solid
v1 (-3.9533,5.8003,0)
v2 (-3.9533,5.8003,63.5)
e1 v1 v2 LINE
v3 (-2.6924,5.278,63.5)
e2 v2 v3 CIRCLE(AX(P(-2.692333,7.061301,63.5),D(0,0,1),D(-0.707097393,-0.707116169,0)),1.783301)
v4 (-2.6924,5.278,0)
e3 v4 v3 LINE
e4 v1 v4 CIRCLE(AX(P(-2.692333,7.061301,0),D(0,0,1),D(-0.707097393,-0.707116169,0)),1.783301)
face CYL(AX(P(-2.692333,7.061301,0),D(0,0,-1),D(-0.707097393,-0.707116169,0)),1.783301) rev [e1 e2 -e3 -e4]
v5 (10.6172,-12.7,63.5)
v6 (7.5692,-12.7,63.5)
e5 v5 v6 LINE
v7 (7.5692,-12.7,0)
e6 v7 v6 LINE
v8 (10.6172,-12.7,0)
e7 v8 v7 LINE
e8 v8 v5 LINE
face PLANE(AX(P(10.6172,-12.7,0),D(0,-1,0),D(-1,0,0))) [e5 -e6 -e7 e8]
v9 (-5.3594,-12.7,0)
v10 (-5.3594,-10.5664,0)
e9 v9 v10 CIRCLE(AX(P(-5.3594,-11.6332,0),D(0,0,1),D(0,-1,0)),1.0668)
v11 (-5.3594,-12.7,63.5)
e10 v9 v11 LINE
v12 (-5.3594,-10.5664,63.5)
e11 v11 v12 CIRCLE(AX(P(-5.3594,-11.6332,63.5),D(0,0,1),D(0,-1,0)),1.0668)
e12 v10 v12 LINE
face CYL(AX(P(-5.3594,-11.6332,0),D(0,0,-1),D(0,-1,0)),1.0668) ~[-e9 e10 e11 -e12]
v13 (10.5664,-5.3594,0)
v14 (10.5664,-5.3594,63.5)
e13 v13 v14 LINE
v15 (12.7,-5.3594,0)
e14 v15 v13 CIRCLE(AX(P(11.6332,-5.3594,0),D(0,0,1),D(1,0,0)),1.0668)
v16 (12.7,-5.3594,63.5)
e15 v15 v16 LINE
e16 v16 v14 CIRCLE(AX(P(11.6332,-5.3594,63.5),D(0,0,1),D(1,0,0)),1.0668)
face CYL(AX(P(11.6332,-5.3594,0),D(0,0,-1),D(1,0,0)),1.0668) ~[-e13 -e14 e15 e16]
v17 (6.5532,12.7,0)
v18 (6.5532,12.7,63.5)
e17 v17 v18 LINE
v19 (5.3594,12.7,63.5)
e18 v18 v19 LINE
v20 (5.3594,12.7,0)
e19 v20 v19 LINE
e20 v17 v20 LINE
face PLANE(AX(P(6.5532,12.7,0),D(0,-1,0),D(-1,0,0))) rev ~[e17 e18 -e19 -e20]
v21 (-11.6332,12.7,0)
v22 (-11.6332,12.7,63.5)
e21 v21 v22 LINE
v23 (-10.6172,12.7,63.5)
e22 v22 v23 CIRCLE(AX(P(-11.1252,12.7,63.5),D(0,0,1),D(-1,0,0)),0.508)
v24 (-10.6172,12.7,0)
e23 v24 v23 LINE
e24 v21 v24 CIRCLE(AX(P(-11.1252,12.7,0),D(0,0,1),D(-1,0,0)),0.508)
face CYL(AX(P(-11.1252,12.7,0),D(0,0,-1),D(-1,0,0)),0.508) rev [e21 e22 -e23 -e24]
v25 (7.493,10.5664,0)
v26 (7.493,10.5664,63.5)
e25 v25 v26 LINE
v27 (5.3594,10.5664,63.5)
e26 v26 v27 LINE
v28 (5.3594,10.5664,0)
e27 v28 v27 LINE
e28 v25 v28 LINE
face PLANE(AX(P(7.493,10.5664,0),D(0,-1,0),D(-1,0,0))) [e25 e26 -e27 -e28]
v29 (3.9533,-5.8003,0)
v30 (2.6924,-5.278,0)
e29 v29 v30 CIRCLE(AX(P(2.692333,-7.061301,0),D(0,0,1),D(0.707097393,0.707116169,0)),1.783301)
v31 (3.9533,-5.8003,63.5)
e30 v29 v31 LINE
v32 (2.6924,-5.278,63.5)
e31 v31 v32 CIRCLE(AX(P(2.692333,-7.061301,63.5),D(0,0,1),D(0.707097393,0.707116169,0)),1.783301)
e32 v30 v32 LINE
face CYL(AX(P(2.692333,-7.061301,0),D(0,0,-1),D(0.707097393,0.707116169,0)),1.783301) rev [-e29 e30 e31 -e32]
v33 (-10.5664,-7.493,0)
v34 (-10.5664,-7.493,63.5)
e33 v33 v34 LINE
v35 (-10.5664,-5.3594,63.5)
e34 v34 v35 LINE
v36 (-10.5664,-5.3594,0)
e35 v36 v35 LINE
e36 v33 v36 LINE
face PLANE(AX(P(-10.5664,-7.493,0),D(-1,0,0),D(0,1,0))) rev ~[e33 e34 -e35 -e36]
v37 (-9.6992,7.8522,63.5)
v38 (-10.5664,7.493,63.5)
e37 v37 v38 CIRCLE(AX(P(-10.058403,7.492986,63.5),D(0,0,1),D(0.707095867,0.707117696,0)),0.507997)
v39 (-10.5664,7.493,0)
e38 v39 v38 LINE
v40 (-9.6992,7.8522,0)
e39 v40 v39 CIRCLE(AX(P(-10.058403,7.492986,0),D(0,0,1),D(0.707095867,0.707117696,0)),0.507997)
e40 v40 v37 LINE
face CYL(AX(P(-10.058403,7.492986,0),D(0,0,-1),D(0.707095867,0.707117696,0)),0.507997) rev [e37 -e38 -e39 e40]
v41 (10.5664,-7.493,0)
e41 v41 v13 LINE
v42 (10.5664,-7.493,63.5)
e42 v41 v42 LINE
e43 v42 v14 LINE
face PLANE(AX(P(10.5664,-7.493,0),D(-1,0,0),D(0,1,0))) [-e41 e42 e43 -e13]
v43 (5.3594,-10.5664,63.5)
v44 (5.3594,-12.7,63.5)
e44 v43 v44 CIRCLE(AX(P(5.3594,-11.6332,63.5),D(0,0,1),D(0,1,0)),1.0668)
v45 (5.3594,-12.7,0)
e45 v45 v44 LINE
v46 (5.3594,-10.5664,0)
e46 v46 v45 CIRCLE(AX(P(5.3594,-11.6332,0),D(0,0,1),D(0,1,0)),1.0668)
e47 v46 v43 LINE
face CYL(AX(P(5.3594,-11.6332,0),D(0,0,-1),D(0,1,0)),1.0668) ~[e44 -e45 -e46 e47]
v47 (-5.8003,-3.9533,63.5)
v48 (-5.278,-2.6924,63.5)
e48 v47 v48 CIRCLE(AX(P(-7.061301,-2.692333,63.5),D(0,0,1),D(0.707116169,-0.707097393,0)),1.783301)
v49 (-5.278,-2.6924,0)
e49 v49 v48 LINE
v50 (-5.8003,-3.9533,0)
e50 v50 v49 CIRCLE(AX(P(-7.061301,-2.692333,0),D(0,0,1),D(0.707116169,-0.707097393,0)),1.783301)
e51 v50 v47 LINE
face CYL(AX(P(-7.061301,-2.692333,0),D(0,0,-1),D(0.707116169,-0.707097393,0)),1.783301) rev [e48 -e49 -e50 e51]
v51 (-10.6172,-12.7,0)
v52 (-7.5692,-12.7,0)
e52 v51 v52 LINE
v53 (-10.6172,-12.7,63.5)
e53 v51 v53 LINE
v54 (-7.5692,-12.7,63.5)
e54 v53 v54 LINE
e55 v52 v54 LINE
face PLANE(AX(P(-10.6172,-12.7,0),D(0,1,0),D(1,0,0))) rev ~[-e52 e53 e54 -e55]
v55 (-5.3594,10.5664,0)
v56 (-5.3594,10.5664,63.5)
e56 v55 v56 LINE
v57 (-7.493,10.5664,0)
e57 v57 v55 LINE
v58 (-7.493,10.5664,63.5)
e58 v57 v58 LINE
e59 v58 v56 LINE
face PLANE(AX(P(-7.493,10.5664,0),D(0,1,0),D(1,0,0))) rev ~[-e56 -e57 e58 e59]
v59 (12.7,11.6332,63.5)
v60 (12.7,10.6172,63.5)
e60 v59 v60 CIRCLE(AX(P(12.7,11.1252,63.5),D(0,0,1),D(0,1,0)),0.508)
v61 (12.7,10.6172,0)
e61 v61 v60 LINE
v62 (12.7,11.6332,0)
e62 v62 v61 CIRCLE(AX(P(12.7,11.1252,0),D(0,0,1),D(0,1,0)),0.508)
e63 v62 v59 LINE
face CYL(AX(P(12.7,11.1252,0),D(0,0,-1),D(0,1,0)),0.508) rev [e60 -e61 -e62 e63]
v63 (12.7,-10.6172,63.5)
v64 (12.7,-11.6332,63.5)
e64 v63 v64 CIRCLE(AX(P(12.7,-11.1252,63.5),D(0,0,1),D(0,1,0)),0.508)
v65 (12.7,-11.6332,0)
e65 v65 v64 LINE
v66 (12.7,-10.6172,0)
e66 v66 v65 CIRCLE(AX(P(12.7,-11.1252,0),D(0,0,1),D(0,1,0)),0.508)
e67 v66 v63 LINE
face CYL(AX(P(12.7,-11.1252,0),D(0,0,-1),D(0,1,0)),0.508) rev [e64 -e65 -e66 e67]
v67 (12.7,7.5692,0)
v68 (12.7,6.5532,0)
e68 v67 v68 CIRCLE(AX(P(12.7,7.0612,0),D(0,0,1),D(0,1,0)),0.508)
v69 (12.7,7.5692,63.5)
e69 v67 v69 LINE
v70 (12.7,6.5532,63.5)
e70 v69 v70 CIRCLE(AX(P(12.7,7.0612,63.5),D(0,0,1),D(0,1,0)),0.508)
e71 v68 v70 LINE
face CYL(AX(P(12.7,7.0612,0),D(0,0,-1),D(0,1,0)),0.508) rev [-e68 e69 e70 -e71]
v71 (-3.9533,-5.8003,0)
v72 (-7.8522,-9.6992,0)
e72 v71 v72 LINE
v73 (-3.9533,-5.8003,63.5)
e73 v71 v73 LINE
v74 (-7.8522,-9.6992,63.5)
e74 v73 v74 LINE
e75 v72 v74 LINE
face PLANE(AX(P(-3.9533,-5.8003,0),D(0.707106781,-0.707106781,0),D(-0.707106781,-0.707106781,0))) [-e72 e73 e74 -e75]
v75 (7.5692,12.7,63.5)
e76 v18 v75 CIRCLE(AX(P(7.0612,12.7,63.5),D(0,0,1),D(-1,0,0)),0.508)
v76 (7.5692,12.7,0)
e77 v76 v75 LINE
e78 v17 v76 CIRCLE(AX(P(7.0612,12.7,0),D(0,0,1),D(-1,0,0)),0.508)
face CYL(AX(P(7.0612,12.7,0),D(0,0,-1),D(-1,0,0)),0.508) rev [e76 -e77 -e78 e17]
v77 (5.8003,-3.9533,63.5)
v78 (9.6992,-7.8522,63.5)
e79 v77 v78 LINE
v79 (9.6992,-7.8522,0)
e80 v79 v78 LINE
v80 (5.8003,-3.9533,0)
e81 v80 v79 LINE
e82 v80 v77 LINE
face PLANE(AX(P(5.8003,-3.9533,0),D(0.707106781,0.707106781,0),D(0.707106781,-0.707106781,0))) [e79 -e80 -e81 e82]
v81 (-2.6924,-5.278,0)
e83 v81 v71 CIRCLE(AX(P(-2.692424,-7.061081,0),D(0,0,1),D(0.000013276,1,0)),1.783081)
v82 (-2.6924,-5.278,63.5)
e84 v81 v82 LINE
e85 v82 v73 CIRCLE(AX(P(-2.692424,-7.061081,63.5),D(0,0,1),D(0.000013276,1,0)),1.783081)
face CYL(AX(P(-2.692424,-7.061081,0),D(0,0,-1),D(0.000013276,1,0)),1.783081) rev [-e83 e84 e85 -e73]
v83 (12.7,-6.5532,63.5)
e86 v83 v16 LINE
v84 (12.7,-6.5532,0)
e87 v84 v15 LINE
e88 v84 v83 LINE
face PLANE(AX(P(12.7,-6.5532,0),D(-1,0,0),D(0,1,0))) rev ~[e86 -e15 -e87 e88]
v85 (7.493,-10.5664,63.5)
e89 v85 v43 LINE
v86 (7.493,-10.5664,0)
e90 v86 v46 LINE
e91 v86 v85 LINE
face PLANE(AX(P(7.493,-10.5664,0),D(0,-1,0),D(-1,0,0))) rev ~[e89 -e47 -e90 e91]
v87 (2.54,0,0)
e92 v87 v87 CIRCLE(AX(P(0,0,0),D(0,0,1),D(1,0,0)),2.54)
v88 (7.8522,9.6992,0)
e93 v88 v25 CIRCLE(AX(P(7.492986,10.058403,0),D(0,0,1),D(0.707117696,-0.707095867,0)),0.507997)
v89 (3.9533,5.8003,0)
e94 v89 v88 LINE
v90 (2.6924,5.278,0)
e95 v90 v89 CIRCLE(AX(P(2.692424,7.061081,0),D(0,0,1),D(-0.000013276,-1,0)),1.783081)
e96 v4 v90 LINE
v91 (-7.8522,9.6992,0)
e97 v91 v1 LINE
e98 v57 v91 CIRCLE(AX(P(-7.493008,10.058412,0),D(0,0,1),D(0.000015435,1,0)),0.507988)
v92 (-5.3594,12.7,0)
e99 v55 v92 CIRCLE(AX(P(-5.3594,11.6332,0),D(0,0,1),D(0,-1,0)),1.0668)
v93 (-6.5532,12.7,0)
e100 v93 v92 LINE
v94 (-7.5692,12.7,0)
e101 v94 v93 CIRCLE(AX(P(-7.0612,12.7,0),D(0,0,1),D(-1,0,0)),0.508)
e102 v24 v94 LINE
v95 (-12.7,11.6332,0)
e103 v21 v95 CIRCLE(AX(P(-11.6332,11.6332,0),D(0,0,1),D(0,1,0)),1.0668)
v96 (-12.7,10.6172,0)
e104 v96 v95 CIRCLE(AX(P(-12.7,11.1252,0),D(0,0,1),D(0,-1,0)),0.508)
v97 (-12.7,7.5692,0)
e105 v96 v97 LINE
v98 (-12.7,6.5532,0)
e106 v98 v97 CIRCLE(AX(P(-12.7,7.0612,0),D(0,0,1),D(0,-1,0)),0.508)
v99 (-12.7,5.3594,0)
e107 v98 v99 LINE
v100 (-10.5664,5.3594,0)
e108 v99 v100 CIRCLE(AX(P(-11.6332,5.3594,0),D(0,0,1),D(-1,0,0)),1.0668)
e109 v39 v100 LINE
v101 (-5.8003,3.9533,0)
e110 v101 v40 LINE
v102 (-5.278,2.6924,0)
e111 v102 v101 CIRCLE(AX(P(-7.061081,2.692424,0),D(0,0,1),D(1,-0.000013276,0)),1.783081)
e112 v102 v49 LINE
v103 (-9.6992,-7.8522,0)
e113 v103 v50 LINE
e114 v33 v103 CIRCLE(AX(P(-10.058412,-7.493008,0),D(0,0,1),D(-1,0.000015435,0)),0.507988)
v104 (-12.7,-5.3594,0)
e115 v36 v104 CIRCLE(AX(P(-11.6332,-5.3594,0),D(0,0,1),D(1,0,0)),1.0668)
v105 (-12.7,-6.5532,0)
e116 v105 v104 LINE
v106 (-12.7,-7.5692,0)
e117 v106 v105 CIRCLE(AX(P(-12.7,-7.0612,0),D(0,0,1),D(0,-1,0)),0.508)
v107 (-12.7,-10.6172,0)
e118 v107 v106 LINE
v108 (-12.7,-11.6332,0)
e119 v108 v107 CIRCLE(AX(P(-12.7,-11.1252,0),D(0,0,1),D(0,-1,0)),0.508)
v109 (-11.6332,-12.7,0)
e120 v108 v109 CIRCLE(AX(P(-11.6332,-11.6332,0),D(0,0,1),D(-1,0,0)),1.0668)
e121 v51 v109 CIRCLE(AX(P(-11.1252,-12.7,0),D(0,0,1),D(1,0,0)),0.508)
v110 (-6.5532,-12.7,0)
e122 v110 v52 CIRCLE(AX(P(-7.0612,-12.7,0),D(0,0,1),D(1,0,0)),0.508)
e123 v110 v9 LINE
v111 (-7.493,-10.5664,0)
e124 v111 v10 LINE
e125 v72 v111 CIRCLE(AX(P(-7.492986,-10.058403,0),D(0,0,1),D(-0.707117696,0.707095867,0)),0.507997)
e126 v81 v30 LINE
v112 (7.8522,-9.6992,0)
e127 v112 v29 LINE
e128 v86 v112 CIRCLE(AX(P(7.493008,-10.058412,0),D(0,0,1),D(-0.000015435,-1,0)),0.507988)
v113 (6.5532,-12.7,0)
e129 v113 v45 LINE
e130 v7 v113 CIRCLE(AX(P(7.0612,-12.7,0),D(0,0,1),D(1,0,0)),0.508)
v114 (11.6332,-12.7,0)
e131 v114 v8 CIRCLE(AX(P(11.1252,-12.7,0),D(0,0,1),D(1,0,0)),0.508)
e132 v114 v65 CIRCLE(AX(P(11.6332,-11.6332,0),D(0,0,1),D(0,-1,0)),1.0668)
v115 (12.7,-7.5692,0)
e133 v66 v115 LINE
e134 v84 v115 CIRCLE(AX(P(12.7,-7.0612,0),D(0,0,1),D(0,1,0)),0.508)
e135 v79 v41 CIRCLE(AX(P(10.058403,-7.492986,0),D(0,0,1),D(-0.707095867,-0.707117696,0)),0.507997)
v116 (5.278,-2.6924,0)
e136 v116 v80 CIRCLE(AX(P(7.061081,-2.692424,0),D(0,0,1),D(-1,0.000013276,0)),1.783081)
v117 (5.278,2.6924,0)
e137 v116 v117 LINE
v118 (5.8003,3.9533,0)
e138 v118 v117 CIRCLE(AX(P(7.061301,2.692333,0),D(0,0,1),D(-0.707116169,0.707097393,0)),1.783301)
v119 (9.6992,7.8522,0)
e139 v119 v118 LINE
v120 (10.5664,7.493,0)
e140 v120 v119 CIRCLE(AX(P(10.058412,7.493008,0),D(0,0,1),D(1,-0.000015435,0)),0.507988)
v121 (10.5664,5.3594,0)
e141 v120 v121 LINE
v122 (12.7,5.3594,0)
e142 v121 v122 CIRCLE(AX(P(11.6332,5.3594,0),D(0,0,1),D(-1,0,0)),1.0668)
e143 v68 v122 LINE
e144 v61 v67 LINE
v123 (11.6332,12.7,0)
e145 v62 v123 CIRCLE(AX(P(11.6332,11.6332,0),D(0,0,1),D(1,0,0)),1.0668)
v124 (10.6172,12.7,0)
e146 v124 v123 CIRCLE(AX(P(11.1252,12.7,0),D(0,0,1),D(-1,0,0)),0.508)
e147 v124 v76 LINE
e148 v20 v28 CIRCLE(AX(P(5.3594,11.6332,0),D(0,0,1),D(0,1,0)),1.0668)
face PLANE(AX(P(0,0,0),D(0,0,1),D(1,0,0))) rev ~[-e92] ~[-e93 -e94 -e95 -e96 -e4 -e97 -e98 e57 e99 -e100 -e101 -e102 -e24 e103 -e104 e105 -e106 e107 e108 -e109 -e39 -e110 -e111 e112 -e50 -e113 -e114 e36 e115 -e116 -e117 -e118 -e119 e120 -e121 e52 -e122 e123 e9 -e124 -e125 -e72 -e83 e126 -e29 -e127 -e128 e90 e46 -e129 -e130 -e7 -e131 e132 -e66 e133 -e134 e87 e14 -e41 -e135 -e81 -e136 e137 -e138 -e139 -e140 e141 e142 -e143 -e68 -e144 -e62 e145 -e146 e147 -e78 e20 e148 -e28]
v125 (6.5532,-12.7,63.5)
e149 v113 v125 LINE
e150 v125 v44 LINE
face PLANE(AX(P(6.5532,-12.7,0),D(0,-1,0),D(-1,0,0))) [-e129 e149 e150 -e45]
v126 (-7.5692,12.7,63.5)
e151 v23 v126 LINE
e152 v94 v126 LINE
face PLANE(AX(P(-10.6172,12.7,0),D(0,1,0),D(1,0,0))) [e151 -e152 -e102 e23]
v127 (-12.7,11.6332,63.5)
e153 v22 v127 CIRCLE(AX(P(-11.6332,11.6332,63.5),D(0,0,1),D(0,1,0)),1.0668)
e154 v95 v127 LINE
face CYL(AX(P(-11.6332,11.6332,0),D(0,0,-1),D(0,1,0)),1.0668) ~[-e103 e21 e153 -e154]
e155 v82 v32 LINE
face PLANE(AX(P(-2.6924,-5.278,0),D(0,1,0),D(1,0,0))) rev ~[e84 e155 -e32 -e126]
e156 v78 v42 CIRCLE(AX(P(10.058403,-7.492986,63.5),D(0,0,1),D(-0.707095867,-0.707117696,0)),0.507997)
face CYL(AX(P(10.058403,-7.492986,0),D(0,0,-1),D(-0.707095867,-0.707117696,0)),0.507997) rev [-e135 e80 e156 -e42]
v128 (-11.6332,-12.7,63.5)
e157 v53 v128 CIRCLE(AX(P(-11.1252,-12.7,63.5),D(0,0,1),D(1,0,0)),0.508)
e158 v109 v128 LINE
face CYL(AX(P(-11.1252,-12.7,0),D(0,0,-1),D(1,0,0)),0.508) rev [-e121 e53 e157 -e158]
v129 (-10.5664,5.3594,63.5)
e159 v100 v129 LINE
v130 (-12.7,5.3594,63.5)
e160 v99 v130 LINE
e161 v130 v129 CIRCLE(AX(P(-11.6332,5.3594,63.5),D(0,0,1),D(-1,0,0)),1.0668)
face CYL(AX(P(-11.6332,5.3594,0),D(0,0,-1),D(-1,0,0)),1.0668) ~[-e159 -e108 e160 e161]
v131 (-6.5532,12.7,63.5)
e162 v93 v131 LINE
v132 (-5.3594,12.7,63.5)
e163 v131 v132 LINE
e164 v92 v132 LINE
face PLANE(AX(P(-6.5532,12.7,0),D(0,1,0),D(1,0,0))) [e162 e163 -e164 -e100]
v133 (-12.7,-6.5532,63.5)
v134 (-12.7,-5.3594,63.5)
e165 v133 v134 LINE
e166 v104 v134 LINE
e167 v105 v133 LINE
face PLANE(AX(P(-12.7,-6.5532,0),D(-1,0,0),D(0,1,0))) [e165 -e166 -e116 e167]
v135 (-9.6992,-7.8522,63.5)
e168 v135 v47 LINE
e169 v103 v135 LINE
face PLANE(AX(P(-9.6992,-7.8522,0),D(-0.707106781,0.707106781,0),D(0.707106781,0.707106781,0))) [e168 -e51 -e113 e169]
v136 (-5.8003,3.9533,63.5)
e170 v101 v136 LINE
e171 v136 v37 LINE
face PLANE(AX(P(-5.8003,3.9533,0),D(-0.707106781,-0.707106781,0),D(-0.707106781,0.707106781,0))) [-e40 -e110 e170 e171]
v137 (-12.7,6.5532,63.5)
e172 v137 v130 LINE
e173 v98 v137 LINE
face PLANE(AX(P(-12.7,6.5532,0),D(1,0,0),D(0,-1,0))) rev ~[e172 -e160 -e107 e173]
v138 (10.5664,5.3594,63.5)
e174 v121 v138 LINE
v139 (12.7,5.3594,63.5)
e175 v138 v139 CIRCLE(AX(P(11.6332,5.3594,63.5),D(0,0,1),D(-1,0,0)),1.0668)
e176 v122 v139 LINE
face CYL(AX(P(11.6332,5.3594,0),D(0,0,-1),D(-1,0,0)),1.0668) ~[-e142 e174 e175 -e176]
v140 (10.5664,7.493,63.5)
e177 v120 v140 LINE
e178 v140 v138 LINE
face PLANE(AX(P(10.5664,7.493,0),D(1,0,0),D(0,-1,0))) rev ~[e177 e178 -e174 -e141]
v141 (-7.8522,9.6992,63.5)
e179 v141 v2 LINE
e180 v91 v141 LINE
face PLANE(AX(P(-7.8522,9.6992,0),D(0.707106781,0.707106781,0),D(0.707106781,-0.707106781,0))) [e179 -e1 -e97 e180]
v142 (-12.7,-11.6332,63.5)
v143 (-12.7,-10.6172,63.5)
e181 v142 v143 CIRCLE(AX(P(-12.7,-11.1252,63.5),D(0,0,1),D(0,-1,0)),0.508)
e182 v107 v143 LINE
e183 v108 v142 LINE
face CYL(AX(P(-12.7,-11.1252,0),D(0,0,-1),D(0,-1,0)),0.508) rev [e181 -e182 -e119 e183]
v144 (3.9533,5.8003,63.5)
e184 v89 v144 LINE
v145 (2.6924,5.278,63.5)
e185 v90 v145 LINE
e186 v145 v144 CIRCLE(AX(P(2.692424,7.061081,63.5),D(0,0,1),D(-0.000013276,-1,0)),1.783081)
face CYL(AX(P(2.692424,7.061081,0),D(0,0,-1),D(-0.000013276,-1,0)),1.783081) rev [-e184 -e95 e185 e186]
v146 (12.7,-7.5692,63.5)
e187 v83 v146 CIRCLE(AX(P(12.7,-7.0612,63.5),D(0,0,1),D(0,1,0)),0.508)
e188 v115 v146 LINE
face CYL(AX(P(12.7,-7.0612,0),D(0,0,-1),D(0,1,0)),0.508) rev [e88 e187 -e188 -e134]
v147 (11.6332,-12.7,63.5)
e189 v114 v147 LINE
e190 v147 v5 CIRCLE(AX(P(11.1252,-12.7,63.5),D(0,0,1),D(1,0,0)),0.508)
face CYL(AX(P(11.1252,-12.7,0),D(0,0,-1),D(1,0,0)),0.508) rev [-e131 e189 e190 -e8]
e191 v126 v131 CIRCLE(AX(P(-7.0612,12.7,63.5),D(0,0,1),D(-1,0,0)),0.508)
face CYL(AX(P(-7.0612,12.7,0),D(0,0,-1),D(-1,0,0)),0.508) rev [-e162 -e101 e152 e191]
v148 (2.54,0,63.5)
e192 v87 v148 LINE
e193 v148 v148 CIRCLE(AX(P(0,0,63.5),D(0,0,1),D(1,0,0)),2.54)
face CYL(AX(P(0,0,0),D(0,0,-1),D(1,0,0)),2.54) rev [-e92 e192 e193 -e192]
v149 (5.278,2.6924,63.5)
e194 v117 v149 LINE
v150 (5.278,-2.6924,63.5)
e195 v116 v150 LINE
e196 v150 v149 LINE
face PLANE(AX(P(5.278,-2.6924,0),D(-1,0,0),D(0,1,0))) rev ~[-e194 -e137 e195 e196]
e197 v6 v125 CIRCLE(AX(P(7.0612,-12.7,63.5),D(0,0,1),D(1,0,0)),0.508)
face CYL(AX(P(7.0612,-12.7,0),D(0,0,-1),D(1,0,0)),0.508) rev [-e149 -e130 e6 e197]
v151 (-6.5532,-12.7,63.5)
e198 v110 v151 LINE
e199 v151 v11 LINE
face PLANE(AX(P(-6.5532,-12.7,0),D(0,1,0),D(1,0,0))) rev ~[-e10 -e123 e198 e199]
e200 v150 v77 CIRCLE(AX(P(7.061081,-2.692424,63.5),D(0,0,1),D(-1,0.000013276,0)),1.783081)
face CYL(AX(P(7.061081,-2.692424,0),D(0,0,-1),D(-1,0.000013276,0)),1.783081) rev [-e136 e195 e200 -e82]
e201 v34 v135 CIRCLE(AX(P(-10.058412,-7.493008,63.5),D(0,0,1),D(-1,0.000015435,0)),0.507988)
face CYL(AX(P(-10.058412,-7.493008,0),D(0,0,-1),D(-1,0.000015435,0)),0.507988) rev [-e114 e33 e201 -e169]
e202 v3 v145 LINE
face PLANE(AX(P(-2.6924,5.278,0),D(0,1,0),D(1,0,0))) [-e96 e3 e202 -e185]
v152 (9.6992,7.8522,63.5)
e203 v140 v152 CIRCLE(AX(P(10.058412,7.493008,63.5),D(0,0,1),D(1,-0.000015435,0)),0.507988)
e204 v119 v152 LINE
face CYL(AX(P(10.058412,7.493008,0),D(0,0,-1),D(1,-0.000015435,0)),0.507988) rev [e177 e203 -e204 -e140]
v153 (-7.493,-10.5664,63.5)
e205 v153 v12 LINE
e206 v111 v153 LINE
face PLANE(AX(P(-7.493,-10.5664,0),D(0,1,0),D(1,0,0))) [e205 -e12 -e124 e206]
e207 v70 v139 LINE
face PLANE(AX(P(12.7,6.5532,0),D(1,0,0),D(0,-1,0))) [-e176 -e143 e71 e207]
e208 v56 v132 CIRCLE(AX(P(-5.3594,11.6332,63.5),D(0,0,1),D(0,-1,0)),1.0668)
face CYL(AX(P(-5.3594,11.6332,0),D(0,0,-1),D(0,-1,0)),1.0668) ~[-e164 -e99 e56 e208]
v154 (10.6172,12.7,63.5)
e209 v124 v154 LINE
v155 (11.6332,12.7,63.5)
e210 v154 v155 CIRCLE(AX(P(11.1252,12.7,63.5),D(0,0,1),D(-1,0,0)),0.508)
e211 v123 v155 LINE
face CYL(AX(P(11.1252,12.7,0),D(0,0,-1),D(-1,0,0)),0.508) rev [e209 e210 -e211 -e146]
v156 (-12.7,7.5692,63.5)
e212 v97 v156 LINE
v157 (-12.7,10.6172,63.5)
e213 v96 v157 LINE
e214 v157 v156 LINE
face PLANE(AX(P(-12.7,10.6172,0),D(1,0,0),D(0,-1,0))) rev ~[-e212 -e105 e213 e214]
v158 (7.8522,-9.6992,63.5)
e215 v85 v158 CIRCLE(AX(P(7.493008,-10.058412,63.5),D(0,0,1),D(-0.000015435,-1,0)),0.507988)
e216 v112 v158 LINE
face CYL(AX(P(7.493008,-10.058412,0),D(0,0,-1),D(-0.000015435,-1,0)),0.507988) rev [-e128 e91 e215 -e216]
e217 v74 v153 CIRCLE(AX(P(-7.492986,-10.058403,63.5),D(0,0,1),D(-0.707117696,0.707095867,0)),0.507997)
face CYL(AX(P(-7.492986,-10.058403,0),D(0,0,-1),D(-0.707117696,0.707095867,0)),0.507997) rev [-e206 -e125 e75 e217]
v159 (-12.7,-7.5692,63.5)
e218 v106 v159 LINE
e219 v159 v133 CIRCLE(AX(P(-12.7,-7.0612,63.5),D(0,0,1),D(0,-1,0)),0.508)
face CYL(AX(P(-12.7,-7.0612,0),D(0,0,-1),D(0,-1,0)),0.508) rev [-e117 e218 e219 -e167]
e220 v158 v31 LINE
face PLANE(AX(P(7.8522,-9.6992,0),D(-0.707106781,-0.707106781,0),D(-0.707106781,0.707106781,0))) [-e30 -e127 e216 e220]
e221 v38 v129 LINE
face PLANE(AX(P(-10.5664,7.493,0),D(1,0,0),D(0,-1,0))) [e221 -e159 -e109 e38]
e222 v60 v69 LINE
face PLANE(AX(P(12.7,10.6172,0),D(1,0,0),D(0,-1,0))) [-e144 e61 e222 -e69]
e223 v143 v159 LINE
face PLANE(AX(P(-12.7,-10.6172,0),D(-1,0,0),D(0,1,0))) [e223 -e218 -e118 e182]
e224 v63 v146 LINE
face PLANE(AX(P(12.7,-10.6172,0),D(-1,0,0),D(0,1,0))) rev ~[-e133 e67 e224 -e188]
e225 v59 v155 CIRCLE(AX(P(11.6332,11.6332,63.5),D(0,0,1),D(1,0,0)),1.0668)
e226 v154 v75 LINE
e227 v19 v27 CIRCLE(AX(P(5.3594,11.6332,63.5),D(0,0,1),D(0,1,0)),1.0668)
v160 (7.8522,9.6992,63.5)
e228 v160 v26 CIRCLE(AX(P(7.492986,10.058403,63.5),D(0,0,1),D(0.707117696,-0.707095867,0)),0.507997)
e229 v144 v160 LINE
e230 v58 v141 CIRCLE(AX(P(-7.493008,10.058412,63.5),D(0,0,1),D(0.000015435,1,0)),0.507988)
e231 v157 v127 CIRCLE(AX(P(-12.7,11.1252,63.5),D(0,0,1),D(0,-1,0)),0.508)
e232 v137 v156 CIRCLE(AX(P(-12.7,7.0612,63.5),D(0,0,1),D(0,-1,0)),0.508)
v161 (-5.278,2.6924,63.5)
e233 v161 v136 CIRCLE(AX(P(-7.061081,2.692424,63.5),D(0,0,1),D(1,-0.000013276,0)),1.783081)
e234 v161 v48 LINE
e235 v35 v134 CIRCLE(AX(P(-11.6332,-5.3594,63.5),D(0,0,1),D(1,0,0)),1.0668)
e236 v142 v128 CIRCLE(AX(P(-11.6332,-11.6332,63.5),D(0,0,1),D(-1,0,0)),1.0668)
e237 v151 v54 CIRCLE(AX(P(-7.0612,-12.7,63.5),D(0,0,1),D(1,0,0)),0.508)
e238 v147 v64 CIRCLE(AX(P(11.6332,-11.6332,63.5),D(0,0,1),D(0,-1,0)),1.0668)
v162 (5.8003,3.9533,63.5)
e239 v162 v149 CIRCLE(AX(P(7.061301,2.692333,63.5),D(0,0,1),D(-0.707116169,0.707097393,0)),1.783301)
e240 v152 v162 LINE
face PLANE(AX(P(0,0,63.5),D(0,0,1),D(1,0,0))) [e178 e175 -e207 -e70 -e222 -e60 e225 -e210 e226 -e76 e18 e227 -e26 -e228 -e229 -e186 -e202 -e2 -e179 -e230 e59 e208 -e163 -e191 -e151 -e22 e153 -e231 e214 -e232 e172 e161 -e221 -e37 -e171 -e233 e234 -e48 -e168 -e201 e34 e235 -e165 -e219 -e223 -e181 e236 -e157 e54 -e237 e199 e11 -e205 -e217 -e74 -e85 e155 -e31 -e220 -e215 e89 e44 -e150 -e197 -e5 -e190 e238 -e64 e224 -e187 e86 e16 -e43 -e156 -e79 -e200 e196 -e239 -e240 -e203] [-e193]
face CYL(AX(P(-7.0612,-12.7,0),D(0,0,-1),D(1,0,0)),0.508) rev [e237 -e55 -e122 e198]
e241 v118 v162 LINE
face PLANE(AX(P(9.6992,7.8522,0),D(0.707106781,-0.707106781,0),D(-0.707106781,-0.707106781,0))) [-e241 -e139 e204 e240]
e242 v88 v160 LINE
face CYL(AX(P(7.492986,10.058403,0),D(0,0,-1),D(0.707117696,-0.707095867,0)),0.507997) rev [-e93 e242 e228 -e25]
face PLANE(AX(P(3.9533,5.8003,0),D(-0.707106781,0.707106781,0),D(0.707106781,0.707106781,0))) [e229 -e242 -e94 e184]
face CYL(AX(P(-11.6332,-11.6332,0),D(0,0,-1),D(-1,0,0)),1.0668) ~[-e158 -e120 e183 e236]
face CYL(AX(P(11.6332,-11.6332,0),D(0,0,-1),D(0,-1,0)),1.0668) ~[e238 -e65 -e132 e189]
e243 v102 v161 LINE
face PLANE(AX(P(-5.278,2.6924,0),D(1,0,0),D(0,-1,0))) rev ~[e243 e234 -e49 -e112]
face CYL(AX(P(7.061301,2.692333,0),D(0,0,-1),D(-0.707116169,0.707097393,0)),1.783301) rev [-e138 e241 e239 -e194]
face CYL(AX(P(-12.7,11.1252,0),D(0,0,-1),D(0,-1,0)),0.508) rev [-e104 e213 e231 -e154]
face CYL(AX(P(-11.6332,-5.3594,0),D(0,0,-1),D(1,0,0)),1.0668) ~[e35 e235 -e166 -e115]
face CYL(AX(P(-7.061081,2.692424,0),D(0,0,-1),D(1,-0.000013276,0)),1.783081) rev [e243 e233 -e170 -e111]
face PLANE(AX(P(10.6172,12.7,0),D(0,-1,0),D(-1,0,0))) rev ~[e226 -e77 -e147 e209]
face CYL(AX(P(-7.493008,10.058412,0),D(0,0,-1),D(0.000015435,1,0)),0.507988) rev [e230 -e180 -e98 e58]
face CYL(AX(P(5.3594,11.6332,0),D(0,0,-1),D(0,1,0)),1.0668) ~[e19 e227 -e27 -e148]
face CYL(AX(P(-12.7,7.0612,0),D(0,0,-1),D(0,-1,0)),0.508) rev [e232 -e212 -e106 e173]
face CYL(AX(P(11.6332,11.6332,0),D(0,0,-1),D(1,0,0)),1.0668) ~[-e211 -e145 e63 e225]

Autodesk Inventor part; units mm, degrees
ref_plane "YZ Plane" through (0, 0, 0) normal (1, 0, 0) x (0, 1, 0)
ref_plane "Start Plane" through (0, 0, 0) normal (0, 0, 1) x (1, 0, 0)
ref_plane "End Plane" through (0, 0, 63.5) normal (0, 0, 1) x (1, 0, 0)
sketch "Sketch" plane through (0, 0, 0) normal (0, 0, 1) x (1, 0, 0)
  arc A0 (-11.6332, 12.7) -> (-12.7, 11.6332) centre (-11.6332, 11.6332) ccw
  arc A1 (-5.3594, 10.5664) -> (-5.3594, 12.7) centre (-5.3594, 11.6332) ccw
  arc A2 (-12.7, 5.3594) -> (-10.5664, 5.3594) centre (-11.6332, 5.3594) ccw
  line L0 (-10.5664, 7.493) -> (-10.5664, 5.3594)
  line L1 (-7.493, 10.5664) -> (-5.3594, 10.5664)
  arc A3 (-9.6992, 7.8522) -> (-10.5664, 7.493) centre (-10.0584, 7.493) ccw
  arc A4 (-7.493, 10.5664) -> (-7.8522, 9.6992) centre (-7.493, 10.0584) ccw
  line L2 (-11.6332, 11.6332) -> (0, 0) construction
  line L3 (-5.8003, 3.9533) -> (-9.6992, 7.8522)
  line L4 (-7.8522, 9.6992) -> (-3.9533, 5.8003)
  arc A5 (-3.9533, 5.8003) -> (-2.6924, 5.278) centre (-2.6924, 7.0612) ccw
  arc A6 (-5.278, 2.6924) -> (-5.8003, 3.9533) centre (-7.0612, 2.6924) ccw
  arc A7 (0, 2.54) -> (-2.54, 0) centre (0, 0) ccw construction
  line L5 (0, 0) -> (-12.7, 0) construction
  line L6 (0, 12.7) -> (0, 0) construction
  arc A8 (-11.6332, 12.7) -> (-10.6172, 12.7) centre (-11.1252, 12.7) ccw
  arc A9 (-7.5692, 12.7) -> (-6.5532, 12.7) centre (-7.0612, 12.7) ccw
  arc A10 (-12.7, 10.6172) -> (-12.7, 11.6332) centre (-12.7, 11.1252) ccw
  arc A11 (-12.7, 6.5532) -> (-12.7, 7.5692) centre (-12.7, 7.0612) ccw
  line L7 (-12.7, 10.6172) -> (-12.7, 7.5692)
  line L8 (-12.7, 6.5532) -> (-12.7, 5.3594)
  line L9 (-10.6172, 12.7) -> (-7.5692, 12.7)
  line L10 (-6.5532, 12.7) -> (-5.3594, 12.7)
  circle A12 centre (0, 0) radius 2.54
  arc A13 (-12.7, -11.6332) -> (-11.6332, -12.7) centre (-11.6332, -11.6332) ccw
  line L11 (-12.7, -10.6172) -> (-12.7, -7.5692)
  arc A14 (-10.5664, -7.493) -> (-9.6992, -7.8522) centre (-10.0584, -7.493) ccw
  line L12 (-9.6992, -7.8522) -> (-5.8003, -3.9533)
  line L13 (-11.6332, -11.6332) -> (0, 0) construction
  line L14 (-3.9533, -5.8003) -> (-7.8522, -9.6992)
  arc A15 (-7.8522, -9.6992) -> (-7.493, -10.5664) centre (-7.493, -10.0584) ccw
  line L15 (-10.6172, -12.7) -> (-7.5692, -12.7)
  line L16 (-7.493, -10.5664) -> (-5.3594, -10.5664)
  arc A16 (-6.5532, -12.7) -> (-7.5692, -12.7) centre (-7.0612, -12.7) ccw
  line L17 (-6.5532, -12.7) -> (-5.3594, -12.7)
  arc A17 (-5.3594, -12.7) -> (-5.3594, -10.5664) centre (-5.3594, -11.6332) ccw
  arc A18 (-10.6172, -12.7) -> (-11.6332, -12.7) centre (-11.1252, -12.7) ccw
  arc A19 (-12.7, -11.6332) -> (-12.7, -10.6172) centre (-12.7, -11.1252) ccw
  arc A20 (-2.6924, -5.278) -> (-3.9533, -5.8003) centre (-2.6924, -7.0612) ccw
  arc A21 (-5.8003, -3.9533) -> (-5.278, -2.6924) centre (-7.0612, -2.6924) ccw
  line L18 (-10.5664, -7.493) -> (-10.5664, -5.3594)
  line L19 (-12.7, -6.5532) -> (-12.7, -5.3594)
  arc A22 (-10.5664, -5.3594) -> (-12.7, -5.3594) centre (-11.6332, -5.3594) ccw
  arc A23 (-12.7, -7.5692) -> (-12.7, -6.5532) centre (-12.7, -7.0612) ccw
  arc A24 (11.6332, -12.7) -> (12.7, -11.6332) centre (11.6332, -11.6332) ccw
  line L20 (10.6172, -12.7) -> (7.5692, -12.7)
  arc A25 (7.493, -10.5664) -> (7.8522, -9.6992) centre (7.493, -10.0584) ccw
  line L21 (7.8522, -9.6992) -> (3.9533, -5.8003)
  line L22 (11.6332, -11.6332) -> (0, 0) construction
  line L23 (5.8003, -3.9533) -> (9.6992, -7.8522)
  arc A26 (9.6992, -7.8522) -> (10.5664, -7.493) centre (10.0584, -7.493) ccw
  line L24 (12.7, -10.6172) -> (12.7, -7.5692)
  line L25 (10.5664, -7.493) -> (10.5664, -5.3594)
  arc A27 (12.7, -6.5532) -> (12.7, -7.5692) centre (12.7, -7.0612) ccw
  line L26 (12.7, -6.5532) -> (12.7, -5.3594)
  arc A28 (12.7, -5.3594) -> (10.5664, -5.3594) centre (11.6332, -5.3594) ccw
  arc A29 (12.7, -10.6172) -> (12.7, -11.6332) centre (12.7, -11.1252) ccw
  arc A30 (11.6332, -12.7) -> (10.6172, -12.7) centre (11.1252, -12.7) ccw
  arc A31 (5.278, -2.6924) -> (5.8003, -3.9533) centre (7.0612, -2.6924) ccw
  arc A32 (3.9533, -5.8003) -> (2.6924, -5.278) centre (2.6924, -7.0612) ccw
  line L27 (7.493, -10.5664) -> (5.3594, -10.5664)
  line L28 (6.5532, -12.7) -> (5.3594, -12.7)
  arc A33 (5.3594, -10.5664) -> (5.3594, -12.7) centre (5.3594, -11.6332) ccw
  arc A34 (7.5692, -12.7) -> (6.5532, -12.7) centre (7.0612, -12.7) ccw
  arc A35 (12.7, 11.6332) -> (11.6332, 12.7) centre (11.6332, 11.6332) ccw
  line L29 (12.7, 10.6172) -> (12.7, 7.5692)
  arc A36 (10.5664, 7.493) -> (9.6992, 7.8522) centre (10.0584, 7.493) ccw
  line L30 (9.6992, 7.8522) -> (5.8003, 3.9533)
  line L31 (11.6332, 11.6332) -> (0, 0) construction
  line L32 (3.9533, 5.8003) -> (7.8522, 9.6992)
  arc A37 (7.8522, 9.6992) -> (7.493, 10.5664) centre (7.493, 10.0584) ccw
  line L33 (10.6172, 12.7) -> (7.5692, 12.7)
  line L34 (7.493, 10.5664) -> (5.3594, 10.5664)
  arc A38 (6.5532, 12.7) -> (7.5692, 12.7) centre (7.0612, 12.7) ccw
  line L35 (6.5532, 12.7) -> (5.3594, 12.7)
  arc A39 (5.3594, 12.7) -> (5.3594, 10.5664) centre (5.3594, 11.6332) ccw
  arc A40 (10.6172, 12.7) -> (11.6332, 12.7) centre (11.1252, 12.7) ccw
  arc A41 (12.7, 11.6332) -> (12.7, 10.6172) centre (12.7, 11.1252) ccw
  arc A42 (2.6924, 5.278) -> (3.9533, 5.8003) centre (2.6924, 7.0612) ccw
  arc A43 (5.8003, 3.9533) -> (5.278, 2.6924) centre (7.0612, 2.6924) ccw
  line L36 (10.5664, 7.493) -> (10.5664, 5.3594)
  line L37 (12.7, 6.5532) -> (12.7, 5.3594)
  arc A44 (10.5664, 5.3594) -> (12.7, 5.3594) centre (11.6332, 5.3594) ccw
  arc A45 (12.7, 7.5692) -> (12.7, 6.5532) centre (12.7, 7.0612) ccw
  line L38 (-2.6924, 5.278) -> (2.6924, 5.278)
  line L39 (-5.278, 2.6924) -> (-5.278, -2.6924)
  line L40 (-2.6924, -5.278) -> (2.6924, -5.278)
  line L41 (5.278, -2.6924) -> (5.278, 2.6924)
  point P0 (0, 0)
  point P1 (0, 0)
  dimension "d2" = 2.1336
  dimension "d3" = 6.2738
  dimension "d4" = 6.2738
  dimension "d5" = 1.0668
  dimension "d6" = 2.1336
  dimension "d7" = 2.1336
  dimension "d8" = 1.016
  dimension "d9" = 1.016
  dimension "d10" = 135
  dimension "d11" = 2.667
  dimension "d12" = 4.572
  dimension "d13" = 4.572
  dimension "d14" = 2.667
  dimension "d15" = 5.08
  dimension "d16" = 45
  dimension "d19" = 45
  dimension "d20" = 0.508
  dimension "d21" = 4.572
  dimension "d22" = 1.016
  dimension "d23" = 4.572
  dimension "d24" = 1.016
  dimension "d25" = 0.508
  dimension "d26" = 0.508
  dimension "d27" = 0.508
  dimension "d28" = 12.7
  dimension "d37" = 360
  dimension "d47" = 10.5664
  dimension "d48" = 12.7
extrude "Body" add sketch "Sketch" along normal up to surface (63.5 mm away) from surface at 0
sketch "Sketch4" plane through (0, 0, 0) normal (0, 0, 1) x (1, 0, 0)
  line L0 (0, 0) -> (10, 0)
ref_plane "Work Plane4" through (0, 0, 0) normal (0, -1, 0) x (1, 0, 0)
sketch "Sketch5" plane through (0, 0, 0) normal (0, -1, 0) x (1, 0, 0)
  line L0 (-2, 0) -> (12, 0)
  line L1 (-2, 63.5) -> (12, 63.5)
  dimension "d60" = 63.5
equation "\"d3\" = d4"
equation "\"d6\" = d7"
equation "\"d11\" = d14"
equation "\"d12\" = d13"
equation "\"d23\" = d21"
equation "\"d24\" = d30"
equation "\"d26\" = 0.5 * d24"
equation "\"d27\" = 0.5 * d22"
equation "\"Width\" = 2 * d28"
equation "\"Height\" = 2 * d48"
equation "\"G_OFFSET_START\" = 0"
equation "\"G_OFFSET_END\" = 0"
equation "\"d56\" = Length + G_OFFSET_END"
equation "\"G_L\" = 63.5"
equation "\"d30\" = 1.016"
equation "\"Length\" = 63.5"
properties part number "1010_80_20" material "Aluminum-6061"
